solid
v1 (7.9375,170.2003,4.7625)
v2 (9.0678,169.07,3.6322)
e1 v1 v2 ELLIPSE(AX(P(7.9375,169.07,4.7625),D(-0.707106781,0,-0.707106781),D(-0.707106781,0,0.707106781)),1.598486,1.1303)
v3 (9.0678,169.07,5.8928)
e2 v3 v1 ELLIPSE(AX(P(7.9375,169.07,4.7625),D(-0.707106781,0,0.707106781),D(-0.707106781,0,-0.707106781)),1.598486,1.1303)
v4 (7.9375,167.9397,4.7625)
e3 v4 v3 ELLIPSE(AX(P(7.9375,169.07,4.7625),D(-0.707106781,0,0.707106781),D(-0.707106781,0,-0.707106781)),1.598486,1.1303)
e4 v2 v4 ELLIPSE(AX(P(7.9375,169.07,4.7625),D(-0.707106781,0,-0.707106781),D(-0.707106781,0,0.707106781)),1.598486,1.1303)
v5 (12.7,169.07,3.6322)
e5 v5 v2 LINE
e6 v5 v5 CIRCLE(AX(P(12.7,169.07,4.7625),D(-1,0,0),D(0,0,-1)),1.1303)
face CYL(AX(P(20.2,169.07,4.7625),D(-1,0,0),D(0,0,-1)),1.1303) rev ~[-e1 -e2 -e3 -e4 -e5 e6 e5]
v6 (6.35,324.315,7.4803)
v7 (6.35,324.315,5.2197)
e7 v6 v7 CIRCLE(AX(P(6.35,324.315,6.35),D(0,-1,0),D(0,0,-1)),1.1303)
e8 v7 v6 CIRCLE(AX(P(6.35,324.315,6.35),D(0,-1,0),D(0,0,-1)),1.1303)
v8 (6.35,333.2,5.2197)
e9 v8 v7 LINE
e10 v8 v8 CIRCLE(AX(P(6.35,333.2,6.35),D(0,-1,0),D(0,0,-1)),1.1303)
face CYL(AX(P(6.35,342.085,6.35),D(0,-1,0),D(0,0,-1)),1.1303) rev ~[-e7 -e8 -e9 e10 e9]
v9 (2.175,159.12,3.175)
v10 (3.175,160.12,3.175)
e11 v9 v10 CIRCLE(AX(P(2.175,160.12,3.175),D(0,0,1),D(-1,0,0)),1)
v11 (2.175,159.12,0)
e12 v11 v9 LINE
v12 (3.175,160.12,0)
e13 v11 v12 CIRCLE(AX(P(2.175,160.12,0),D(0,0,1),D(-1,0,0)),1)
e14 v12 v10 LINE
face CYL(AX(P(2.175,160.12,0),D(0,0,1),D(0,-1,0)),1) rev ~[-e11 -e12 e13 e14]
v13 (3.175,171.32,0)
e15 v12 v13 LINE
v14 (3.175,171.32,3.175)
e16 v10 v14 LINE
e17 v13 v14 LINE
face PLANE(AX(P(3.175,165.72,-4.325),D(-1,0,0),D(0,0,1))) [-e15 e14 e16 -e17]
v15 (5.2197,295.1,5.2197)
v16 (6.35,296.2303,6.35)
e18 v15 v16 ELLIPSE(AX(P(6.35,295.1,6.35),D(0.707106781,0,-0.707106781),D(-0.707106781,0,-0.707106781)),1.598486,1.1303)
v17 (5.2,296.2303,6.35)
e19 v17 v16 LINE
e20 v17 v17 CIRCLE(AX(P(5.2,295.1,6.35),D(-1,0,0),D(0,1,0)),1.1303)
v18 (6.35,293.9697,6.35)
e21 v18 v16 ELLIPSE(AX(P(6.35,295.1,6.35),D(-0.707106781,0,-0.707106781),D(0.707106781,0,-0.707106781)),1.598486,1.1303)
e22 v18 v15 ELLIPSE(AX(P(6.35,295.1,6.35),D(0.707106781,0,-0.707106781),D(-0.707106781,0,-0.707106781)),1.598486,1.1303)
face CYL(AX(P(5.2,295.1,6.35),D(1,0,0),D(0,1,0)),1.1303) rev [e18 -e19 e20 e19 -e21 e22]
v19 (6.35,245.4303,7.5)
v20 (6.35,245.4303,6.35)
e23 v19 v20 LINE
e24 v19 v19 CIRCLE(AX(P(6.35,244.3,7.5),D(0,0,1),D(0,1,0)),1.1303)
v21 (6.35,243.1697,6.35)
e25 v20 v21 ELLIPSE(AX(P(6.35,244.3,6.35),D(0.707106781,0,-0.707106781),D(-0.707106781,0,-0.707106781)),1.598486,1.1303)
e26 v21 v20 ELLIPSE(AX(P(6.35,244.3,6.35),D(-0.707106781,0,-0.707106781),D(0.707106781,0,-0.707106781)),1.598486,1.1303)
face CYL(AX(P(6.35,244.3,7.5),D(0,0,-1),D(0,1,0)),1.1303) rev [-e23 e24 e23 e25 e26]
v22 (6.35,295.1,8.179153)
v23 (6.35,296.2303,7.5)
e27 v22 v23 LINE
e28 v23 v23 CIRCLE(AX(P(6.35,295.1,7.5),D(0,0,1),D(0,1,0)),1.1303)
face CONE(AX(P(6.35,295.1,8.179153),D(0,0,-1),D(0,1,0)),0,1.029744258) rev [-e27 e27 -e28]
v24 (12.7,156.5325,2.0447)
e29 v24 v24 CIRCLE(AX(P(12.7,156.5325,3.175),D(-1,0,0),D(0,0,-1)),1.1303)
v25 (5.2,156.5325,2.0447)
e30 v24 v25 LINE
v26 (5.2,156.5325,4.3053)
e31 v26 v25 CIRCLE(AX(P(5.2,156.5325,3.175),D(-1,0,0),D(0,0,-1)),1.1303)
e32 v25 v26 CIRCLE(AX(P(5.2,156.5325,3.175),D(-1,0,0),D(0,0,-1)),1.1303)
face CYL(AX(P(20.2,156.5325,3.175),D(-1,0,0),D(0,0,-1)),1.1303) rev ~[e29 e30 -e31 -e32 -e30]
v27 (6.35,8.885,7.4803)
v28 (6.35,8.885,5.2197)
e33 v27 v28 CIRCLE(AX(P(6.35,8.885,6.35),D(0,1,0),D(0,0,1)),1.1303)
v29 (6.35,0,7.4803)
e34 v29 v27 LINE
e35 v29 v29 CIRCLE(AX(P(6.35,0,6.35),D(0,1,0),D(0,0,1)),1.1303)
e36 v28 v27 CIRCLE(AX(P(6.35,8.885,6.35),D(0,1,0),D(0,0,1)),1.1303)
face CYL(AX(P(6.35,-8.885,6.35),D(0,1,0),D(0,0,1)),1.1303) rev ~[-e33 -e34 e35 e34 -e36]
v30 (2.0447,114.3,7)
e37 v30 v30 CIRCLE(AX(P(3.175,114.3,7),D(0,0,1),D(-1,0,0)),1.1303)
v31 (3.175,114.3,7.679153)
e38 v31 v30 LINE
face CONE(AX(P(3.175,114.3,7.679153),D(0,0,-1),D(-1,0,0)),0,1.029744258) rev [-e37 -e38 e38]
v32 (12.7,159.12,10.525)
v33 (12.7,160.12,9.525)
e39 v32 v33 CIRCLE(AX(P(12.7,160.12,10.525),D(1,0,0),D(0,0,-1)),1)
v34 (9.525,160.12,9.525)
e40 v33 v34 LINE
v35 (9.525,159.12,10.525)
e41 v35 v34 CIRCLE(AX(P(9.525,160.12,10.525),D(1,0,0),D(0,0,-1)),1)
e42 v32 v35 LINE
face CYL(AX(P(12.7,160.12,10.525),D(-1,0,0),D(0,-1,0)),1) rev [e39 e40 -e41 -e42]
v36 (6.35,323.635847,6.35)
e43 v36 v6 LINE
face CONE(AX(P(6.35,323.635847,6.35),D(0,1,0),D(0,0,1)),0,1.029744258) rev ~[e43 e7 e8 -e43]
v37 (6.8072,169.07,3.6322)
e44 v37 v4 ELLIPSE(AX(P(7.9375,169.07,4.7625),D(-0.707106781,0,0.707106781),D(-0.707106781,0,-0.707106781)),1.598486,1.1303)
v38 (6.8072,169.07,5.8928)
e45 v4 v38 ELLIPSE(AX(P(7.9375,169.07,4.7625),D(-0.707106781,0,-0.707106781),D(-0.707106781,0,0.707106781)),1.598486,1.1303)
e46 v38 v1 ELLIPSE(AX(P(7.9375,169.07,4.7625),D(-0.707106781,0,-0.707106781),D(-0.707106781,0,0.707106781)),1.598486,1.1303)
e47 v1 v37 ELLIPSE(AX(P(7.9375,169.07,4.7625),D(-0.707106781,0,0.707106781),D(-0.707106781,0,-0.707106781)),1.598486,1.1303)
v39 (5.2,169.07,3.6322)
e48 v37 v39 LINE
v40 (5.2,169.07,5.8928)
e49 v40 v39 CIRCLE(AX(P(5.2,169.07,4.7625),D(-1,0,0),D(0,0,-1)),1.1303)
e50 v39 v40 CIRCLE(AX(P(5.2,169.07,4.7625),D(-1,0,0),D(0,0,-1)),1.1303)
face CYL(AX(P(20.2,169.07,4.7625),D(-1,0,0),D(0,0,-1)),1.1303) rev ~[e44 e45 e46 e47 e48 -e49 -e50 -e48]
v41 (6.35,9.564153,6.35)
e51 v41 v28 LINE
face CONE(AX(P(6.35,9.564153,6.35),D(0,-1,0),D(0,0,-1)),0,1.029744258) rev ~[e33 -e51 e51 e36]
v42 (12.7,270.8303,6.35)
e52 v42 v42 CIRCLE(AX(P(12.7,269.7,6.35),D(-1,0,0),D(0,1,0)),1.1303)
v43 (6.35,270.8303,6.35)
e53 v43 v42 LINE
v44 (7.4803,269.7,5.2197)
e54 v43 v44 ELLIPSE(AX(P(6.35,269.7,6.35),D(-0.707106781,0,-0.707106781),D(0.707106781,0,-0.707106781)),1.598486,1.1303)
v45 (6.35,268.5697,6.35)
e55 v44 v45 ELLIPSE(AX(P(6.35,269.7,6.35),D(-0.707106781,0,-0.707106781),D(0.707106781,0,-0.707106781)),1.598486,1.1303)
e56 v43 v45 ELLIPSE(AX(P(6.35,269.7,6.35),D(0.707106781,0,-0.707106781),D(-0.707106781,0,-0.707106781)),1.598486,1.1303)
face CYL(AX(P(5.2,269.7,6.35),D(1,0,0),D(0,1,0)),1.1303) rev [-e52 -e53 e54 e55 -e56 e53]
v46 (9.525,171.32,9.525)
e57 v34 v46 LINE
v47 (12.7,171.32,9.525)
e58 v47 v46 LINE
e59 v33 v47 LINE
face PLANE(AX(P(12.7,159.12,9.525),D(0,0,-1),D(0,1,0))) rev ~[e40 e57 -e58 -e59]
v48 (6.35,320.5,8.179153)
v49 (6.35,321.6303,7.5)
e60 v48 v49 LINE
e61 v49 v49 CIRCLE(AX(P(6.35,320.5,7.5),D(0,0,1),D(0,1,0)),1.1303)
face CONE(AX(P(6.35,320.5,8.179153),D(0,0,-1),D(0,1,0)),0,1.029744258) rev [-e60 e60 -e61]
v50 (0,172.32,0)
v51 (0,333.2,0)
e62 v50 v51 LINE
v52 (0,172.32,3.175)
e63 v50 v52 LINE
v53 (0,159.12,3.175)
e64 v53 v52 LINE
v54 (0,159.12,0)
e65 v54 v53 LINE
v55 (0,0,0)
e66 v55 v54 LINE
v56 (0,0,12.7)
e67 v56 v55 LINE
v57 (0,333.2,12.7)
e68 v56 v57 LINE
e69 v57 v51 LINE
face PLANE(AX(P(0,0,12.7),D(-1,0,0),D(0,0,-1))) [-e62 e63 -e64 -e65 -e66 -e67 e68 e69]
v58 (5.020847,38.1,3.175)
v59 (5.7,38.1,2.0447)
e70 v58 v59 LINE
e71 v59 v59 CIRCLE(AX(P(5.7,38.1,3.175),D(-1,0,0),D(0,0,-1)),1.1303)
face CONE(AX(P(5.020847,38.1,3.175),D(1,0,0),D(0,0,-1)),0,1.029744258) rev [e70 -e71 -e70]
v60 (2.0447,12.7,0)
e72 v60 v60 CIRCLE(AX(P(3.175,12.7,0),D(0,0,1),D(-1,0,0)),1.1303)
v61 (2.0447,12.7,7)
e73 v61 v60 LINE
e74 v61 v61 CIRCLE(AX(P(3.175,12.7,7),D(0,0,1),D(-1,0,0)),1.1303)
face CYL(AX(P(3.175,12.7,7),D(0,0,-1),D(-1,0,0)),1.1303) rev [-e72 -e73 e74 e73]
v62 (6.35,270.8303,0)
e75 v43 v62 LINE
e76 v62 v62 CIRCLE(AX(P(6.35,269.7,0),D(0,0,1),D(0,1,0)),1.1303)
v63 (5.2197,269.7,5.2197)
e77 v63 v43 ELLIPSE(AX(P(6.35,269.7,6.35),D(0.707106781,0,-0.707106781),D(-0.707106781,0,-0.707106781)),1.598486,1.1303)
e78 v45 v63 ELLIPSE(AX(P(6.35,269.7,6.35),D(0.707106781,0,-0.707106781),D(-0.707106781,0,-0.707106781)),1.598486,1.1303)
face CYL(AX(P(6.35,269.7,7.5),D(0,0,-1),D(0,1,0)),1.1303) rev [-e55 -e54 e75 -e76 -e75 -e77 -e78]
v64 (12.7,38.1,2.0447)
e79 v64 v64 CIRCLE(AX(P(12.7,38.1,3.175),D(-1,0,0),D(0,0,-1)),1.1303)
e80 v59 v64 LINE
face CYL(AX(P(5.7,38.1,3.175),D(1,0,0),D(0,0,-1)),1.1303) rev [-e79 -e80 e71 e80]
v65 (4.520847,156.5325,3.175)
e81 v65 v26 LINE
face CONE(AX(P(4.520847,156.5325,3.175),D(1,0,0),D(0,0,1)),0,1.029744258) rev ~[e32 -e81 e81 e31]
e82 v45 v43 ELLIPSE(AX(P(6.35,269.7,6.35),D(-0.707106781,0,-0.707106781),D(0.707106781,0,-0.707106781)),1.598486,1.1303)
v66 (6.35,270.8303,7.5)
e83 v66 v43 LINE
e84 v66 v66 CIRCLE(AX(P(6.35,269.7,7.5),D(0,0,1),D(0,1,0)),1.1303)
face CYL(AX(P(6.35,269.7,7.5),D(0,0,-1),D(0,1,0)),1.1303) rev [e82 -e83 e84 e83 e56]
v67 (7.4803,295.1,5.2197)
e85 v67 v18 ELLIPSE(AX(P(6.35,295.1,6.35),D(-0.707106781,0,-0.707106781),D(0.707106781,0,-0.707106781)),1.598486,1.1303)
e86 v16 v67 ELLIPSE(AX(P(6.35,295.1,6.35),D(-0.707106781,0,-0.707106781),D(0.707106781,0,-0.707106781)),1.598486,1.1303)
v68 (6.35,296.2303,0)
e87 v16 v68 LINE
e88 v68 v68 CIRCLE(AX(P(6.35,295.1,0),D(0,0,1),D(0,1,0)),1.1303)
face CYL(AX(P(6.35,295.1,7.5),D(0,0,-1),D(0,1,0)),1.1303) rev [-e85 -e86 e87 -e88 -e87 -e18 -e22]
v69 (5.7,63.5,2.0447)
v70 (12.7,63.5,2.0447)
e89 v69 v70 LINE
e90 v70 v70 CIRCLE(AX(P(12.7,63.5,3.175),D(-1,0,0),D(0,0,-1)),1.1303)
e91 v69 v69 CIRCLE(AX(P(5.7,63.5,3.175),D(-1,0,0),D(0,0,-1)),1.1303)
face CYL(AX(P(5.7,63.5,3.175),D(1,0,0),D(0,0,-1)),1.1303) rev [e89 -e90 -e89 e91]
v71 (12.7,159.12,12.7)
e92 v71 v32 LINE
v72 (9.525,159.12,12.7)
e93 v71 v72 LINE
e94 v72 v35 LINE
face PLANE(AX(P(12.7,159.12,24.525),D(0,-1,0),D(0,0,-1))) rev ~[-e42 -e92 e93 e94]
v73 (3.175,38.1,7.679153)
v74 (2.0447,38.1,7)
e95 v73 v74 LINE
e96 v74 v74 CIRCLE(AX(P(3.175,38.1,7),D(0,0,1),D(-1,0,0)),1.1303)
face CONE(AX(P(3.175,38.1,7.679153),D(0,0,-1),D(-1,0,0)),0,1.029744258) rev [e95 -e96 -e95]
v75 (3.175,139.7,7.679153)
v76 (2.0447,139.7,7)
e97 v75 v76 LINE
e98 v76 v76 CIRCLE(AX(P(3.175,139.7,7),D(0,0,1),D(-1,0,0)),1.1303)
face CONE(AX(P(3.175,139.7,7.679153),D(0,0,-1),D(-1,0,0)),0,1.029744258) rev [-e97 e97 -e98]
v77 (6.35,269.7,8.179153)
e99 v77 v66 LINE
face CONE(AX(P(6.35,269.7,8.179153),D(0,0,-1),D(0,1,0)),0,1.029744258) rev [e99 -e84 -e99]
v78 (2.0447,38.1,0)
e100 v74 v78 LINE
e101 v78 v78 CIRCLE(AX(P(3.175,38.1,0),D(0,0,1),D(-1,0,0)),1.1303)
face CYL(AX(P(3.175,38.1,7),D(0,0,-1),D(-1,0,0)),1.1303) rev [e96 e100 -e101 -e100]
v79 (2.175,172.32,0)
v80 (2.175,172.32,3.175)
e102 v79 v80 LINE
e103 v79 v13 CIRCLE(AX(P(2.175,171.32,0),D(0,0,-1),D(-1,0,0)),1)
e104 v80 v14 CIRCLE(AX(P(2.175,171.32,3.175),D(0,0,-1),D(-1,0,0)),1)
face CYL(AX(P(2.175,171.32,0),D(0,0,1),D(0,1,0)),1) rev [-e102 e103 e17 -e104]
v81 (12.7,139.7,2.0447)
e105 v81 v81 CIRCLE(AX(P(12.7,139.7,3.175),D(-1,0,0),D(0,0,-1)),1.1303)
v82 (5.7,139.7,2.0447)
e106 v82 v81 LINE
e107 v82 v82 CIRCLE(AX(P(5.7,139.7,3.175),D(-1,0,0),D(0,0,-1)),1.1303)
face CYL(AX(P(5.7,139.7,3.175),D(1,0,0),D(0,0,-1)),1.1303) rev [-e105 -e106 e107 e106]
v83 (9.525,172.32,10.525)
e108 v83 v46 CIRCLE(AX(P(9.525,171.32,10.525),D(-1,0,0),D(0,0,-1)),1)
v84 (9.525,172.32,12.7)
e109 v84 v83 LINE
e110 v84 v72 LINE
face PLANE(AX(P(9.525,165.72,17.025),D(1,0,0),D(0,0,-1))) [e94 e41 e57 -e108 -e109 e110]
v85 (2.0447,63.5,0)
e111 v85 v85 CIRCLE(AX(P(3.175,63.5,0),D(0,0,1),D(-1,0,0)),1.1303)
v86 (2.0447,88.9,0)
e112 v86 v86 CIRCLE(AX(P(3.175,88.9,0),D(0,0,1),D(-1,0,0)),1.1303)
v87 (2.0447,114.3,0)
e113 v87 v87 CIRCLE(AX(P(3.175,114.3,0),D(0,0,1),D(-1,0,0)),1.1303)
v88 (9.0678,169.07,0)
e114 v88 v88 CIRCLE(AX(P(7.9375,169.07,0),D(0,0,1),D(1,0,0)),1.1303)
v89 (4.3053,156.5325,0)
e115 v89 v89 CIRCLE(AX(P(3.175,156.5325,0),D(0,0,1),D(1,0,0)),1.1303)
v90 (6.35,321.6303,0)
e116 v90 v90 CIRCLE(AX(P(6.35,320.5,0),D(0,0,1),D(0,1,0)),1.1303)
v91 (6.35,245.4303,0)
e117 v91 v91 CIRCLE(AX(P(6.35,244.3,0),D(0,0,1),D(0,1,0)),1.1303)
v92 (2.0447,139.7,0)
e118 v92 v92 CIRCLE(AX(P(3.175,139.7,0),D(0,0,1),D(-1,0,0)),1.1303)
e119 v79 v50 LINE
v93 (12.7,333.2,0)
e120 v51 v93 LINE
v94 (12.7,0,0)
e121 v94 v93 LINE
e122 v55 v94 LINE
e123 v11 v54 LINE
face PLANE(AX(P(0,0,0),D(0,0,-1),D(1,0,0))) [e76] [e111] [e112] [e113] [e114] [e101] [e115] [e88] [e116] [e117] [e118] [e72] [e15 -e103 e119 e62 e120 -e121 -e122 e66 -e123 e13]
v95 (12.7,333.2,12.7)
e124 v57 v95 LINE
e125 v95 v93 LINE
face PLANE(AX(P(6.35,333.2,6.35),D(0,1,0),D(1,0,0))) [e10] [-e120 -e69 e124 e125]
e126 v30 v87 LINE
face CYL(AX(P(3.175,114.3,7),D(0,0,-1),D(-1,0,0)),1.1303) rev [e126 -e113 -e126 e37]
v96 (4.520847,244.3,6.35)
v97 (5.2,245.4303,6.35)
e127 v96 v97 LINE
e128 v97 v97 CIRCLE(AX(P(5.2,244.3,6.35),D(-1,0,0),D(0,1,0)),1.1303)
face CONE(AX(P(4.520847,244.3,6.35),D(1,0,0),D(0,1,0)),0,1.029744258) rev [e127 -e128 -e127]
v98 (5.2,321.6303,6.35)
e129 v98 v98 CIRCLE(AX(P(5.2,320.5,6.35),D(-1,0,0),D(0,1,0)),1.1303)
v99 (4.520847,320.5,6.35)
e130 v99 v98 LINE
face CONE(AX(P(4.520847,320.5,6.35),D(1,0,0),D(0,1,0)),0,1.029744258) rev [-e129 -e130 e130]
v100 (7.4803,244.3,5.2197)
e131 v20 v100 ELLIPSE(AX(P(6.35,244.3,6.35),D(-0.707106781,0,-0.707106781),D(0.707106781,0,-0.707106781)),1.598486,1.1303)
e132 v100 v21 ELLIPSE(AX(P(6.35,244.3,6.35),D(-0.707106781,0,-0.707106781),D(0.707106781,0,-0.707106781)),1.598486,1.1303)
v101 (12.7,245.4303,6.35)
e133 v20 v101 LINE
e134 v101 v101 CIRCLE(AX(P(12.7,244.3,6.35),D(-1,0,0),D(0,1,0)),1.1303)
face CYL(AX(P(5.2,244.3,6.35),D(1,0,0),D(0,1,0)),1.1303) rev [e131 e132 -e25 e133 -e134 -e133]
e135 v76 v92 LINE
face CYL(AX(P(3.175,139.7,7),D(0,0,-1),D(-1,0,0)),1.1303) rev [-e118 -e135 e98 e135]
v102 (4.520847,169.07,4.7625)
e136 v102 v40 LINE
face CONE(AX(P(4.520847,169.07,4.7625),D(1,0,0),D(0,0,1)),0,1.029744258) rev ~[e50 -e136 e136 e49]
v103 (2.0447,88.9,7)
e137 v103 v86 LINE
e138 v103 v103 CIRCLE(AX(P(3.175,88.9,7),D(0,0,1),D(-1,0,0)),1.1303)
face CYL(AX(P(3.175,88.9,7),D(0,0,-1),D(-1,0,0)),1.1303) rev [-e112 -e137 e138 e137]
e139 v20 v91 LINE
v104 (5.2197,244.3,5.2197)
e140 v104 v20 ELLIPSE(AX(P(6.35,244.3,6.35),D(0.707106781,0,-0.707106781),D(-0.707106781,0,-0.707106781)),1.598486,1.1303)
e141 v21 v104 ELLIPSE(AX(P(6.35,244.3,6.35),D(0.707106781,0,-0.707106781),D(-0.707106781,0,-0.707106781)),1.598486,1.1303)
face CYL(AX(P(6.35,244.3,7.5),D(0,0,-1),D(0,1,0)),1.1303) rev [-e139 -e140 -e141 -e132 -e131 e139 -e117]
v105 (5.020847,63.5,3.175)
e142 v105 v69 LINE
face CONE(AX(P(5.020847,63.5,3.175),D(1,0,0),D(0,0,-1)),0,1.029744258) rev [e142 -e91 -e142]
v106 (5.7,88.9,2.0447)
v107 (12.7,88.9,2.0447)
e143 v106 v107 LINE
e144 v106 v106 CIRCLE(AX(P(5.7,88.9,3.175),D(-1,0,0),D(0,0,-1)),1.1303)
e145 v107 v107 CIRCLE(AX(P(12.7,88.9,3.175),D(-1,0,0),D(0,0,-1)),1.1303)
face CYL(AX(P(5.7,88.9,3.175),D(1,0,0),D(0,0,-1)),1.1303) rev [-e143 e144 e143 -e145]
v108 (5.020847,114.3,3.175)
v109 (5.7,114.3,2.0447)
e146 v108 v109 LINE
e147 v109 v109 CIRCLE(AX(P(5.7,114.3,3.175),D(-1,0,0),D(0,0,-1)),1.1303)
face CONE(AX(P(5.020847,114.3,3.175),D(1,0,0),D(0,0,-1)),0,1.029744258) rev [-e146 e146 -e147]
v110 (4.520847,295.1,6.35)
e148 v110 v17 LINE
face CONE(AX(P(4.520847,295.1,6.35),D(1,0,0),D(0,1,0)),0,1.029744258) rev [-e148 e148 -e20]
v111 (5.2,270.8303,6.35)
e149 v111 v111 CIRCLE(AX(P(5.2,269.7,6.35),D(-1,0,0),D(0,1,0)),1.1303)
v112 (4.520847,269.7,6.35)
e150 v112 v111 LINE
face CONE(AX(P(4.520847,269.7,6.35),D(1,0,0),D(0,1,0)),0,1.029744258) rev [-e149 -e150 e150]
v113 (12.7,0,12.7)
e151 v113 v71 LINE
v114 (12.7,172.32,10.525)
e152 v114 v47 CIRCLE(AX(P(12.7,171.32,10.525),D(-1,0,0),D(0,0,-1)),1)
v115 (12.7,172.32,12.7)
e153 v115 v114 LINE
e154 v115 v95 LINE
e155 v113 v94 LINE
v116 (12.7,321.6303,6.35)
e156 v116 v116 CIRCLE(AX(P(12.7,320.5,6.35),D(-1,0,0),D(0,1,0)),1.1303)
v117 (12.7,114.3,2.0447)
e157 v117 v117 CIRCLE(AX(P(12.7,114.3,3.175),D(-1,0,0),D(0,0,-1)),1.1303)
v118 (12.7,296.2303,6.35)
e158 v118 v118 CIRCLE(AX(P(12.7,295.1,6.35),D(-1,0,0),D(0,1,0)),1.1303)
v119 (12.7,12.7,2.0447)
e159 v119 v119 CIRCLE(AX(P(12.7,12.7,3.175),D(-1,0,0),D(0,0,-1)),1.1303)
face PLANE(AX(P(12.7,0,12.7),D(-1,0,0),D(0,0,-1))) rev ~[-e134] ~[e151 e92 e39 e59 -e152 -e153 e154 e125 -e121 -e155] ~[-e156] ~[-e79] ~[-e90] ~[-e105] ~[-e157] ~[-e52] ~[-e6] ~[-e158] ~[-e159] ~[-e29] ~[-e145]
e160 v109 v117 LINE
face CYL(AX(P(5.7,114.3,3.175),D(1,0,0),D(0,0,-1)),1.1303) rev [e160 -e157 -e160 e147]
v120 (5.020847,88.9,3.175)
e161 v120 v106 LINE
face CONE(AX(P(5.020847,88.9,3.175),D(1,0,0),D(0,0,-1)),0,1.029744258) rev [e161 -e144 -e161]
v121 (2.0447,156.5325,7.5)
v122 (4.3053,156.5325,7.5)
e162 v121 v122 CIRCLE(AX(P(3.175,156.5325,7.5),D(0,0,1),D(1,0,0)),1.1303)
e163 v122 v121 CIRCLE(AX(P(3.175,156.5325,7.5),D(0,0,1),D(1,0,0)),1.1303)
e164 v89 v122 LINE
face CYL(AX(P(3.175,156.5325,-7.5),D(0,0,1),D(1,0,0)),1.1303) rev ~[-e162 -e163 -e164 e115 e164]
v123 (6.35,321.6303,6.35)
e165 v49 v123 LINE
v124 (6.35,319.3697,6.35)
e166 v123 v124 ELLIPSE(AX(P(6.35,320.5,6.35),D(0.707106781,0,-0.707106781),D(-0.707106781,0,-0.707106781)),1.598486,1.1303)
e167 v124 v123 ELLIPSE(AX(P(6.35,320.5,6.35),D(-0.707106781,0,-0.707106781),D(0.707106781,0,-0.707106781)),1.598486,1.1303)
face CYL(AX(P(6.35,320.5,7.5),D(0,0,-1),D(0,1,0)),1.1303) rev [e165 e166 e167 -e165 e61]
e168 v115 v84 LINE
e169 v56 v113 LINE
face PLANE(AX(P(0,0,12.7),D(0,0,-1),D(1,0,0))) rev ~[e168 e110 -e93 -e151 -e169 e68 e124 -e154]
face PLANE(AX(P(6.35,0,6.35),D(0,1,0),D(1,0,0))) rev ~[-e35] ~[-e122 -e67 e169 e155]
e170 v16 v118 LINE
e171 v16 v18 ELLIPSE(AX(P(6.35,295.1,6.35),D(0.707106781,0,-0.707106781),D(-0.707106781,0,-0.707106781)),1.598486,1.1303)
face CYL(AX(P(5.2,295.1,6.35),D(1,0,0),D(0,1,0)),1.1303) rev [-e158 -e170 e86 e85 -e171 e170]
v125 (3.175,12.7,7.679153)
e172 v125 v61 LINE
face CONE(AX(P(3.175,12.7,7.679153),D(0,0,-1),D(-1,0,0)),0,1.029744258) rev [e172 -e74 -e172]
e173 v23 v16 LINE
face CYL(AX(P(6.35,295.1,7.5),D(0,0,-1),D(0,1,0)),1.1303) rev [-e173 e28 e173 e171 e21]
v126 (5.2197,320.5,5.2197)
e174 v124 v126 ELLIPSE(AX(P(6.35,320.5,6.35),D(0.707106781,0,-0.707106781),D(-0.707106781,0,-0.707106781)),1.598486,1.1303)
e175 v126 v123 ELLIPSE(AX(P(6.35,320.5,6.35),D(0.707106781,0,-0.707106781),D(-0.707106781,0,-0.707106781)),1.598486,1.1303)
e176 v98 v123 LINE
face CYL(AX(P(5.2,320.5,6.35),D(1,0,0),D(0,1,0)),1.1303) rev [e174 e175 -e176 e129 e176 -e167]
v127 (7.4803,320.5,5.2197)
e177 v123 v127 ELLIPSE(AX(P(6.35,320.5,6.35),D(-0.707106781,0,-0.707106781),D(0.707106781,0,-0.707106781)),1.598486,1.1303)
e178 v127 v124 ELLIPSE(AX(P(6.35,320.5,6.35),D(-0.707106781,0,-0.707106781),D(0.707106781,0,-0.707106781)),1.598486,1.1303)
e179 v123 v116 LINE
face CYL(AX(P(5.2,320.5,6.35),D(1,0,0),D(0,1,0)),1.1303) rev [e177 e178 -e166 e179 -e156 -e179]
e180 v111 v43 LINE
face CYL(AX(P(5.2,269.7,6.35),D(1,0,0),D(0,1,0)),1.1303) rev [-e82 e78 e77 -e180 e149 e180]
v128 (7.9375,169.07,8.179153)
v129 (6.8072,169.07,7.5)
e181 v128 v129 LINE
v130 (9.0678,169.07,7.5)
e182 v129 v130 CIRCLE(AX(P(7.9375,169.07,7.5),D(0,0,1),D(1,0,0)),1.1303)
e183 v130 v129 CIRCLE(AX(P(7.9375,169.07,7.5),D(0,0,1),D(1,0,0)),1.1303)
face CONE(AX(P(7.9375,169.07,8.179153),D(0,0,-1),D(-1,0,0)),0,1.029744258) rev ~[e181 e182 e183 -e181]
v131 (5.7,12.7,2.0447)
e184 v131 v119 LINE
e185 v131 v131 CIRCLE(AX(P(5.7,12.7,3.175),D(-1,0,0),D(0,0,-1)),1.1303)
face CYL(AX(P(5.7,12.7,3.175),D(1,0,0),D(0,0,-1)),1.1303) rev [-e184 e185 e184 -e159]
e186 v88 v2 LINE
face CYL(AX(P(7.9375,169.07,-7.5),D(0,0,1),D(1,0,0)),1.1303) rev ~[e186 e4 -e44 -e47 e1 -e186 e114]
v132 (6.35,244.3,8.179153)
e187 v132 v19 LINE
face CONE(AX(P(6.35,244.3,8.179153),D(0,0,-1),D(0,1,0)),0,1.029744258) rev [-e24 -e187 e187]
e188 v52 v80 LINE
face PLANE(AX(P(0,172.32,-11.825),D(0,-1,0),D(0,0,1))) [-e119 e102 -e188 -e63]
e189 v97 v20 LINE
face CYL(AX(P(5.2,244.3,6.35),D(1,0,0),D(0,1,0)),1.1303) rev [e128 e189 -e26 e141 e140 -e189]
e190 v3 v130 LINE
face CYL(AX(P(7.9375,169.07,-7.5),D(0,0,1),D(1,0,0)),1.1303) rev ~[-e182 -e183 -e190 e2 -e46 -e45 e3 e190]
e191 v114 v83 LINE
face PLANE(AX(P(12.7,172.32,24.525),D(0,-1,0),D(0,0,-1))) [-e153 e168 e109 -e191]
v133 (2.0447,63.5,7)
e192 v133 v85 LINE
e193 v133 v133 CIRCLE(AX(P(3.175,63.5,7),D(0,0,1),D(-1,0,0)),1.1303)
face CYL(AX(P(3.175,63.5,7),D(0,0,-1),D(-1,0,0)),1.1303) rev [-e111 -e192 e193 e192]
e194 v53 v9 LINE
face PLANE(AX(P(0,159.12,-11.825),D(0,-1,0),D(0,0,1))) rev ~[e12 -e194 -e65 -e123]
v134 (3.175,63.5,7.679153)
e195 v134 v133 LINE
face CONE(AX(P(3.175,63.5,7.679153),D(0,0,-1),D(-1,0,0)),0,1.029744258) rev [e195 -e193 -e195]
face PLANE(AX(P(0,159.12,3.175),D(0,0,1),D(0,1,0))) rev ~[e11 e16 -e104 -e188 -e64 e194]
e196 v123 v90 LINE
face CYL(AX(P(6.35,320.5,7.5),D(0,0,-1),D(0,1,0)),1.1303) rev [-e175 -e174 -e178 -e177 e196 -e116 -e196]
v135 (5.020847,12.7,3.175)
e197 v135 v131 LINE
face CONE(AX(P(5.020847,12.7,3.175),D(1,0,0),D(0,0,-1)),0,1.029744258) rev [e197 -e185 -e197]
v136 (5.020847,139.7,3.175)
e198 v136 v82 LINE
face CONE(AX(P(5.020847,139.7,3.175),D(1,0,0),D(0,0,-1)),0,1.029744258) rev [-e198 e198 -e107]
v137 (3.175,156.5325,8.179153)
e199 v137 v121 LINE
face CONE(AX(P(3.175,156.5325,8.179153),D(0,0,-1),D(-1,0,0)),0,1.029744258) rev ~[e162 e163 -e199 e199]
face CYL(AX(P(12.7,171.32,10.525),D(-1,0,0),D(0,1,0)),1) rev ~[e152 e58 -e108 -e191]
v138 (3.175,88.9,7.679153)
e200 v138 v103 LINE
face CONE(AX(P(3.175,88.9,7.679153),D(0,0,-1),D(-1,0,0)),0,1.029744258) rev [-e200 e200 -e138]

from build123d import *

# Parameters (mm, degrees)
SKETCH1_W                           = 12.7
SKETCH1_H                           = 12.7
BOSS_EXTRUDE1_DEPTH                 = 333.2
F_4_40_TAPPED_HOLE1_D               = 2.2606
F_4_40_TAPPED_HOLE1_DEPTH           = 8.885
F_4_40_TAPPED_HOLE1_TIP             = 0.679152758
F_4_40_TAPPED_HOLE1_ON_FACE_2_D     = 2.2606
F_4_40_TAPPED_HOLE1_ON_FACE_2_DEPTH = 8.885
F_4_40_TAPPED_HOLE1_ON_FACE_2_TIP   = 0.679152758
LPATTERN1_COUNT                     = 7
LPATTERN1_PITCH                     = 25.4
CIRPATTERN2_COUNT                   = 2
CIRPATTERN2_ANGLE                   = 90
SKETCH4_W                           = 15
SKETCH4_H                           = 13.2
CUT_EXTRUDE1_DEPTH                  = 3.175
CIRPATTERN3_COUNT                   = 3
CIRPATTERN3_ANGLE                   = 180
LPATTERN2_COUNT                     = 6
LPATTERN2_PITCH                     = 25.4
CIRPATTERN4_COUNT                   = 4
FILLET1_R                           = 1
F_4_40_TAPPED_HOLE5_D               = 2.2606
F_4_40_TAPPED_HOLE5_DEPTH           = 7.5
F_4_40_TAPPED_HOLE5_TIP             = 0.679152758
F_4_40_TAPPED_HOLE5_ON_FACE_2_D     = 2.2606
F_4_40_TAPPED_HOLE5_ON_FACE_2_DEPTH = 7.5
F_4_40_TAPPED_HOLE5_ON_FACE_2_TIP   = 0.679152758
F_4_40_TAPPED_HOLE6_D               = 2.2606
F_4_40_TAPPED_HOLE6_DEPTH           = 7.5
F_4_40_TAPPED_HOLE6_TIP             = 0.679152758
F_4_40_TAPPED_HOLE6_ON_FACE_2_D     = 2.2606
F_4_40_TAPPED_HOLE6_ON_FACE_2_DEPTH = 7.5
F_4_40_TAPPED_HOLE6_ON_FACE_2_TIP   = 0.679152758


with BuildPart() as part:
    # Sketch1 → Boss-Extrude1 (new body)
    with BuildSketch(Plane(origin=(0, 0, 0), x_dir=(1, 0, 0), z_dir=(0, 1, 0))):
        with Locations((6.35, -6.35)):
            Rectangle(SKETCH1_W, SKETCH1_H)
    extrude(amount=BOSS_EXTRUDE1_DEPTH)

    # #4-40 Tapped Hole1
    with Locations(Plane(origin=(6.35, 333.2, 6.35), x_dir=(0, 0, 1), z_dir=(0, 1, 0))):
        with Locations((0, 0)):
            Hole(F_4_40_TAPPED_HOLE1_D / 2, depth=F_4_40_TAPPED_HOLE1_DEPTH)
            with Locations((0, 0, -(F_4_40_TAPPED_HOLE1_DEPTH + F_4_40_TAPPED_HOLE1_TIP / 2))):  # 118° drill point
                Cone(0, F_4_40_TAPPED_HOLE1_D / 2, F_4_40_TAPPED_HOLE1_TIP, mode=Mode.SUBTRACT)

    # #4-40 Tapped Hole1 on face 2
    with Locations(Plane(origin=(6.35, 0, 6.35), x_dir=(0, 0, -1), z_dir=(0, -1, 0))):
        with Locations((0, 0)):
            Hole(F_4_40_TAPPED_HOLE1_ON_FACE_2_D / 2, depth=F_4_40_TAPPED_HOLE1_ON_FACE_2_DEPTH)
            with Locations((0, 0, -(F_4_40_TAPPED_HOLE1_ON_FACE_2_DEPTH + F_4_40_TAPPED_HOLE1_ON_FACE_2_TIP / 2))):  # 118° drill point
                Cone(0, F_4_40_TAPPED_HOLE1_ON_FACE_2_D / 2, F_4_40_TAPPED_HOLE1_ON_FACE_2_TIP, mode=Mode.SUBTRACT)

    # Sketch3 → #4-40 Tapped Hole2 (revolve, cut)
    with BuildSketch(Plane(origin=(6.35, 320.5, 0), x_dir=(0, 1, 0), z_dir=(1, 0, 0))):
        Polygon((0, 0), (0, 8.179152758), (1.1303, 7.5), (1.1303, 0), align=None)
    f_4_40_tapped_hole2 = revolve(axis=Axis((6.35, 320.5, -6.35), (0, 0, 1)), mode=Mode.SUBTRACT)

    # LPattern1: #4-40 Tapped Hole2 ×7, 3 skipped
    with Locations(*[(0, -i * LPATTERN1_PITCH, 0) for i in range(1, LPATTERN1_COUNT) if i not in (4, 5, 6)]):
        add(f_4_40_tapped_hole2, mode=Mode.SUBTRACT)

    # CirPattern2: #4-40 Tapped Hole2 ×2 about axis
    cirpattern2_axis = Axis((6.35, 0, 6.35), (0, -1, 0))
    for i in range(1, CIRPATTERN2_COUNT):
        add(f_4_40_tapped_hole2.rotate(cirpattern2_axis, i * CIRPATTERN2_ANGLE / (CIRPATTERN2_COUNT - 1)), mode=Mode.SUBTRACT)

    # CirPattern2 copy 1 sketch → CirPattern2 copy 1 (revolve, cut)
    with BuildSketch(Plane(origin=(12.7, 295.1, 6.35), x_dir=(0, 1, 0), z_dir=(0, 0, 1))):
        Polygon((0, 0), (0, 8.179152758), (1.1303, 7.5), (1.1303, 0), align=None)
    revolve(axis=Axis((19.05, 295.1, 6.35), (-1, 0, 0)), mode=Mode.SUBTRACT)

    # CirPattern2 copy 2 sketch → CirPattern2 copy 2 (revolve, cut)
    with BuildSketch(Plane(origin=(12.7, 269.7, 6.35), x_dir=(0, 1, 0), z_dir=(0, 0, 1))):
        Polygon((0, 0), (0, 8.179152758), (1.1303, 7.5), (1.1303, 0), align=None)
    revolve(axis=Axis((19.05, 269.7, 6.35), (-1, 0, 0)), mode=Mode.SUBTRACT)

    # CirPattern2 copy 3 sketch → CirPattern2 copy 3 (revolve, cut)
    with BuildSketch(Plane(origin=(12.7, 244.3, 6.35), x_dir=(0, 1, 0), z_dir=(0, 0, 1))):
        Polygon((0, 0), (0, 8.179152758), (1.1303, 7.5), (1.1303, 0), align=None)
    revolve(axis=Axis((19.05, 244.3, 6.35), (-1, 0, 0)), mode=Mode.SUBTRACT)

    # Sketch4 → Cut-Extrude1 (cut)
    with BuildSketch(Plane(origin=(12.7, 0, 0), x_dir=(0, 0, -1), z_dir=(1, 0, 0))):
        with Locations((-17.025, 165.72)):
            Rectangle(SKETCH4_W, SKETCH4_H)
    cut_extrude1 = extrude(amount=-CUT_EXTRUDE1_DEPTH, mode=Mode.SUBTRACT)

    # CirPattern3: Cut-Extrude1 ×3 about axis, 1 skipped
    cirpattern3_axis = Axis((6.35, 333.2, 6.35), (0, 1, 0))
    add([cut_extrude1.rotate(cirpattern3_axis, i * CIRPATTERN3_ANGLE / (CIRPATTERN3_COUNT - 1)) for i in range(1, CIRPATTERN3_COUNT) if i not in (1,)], mode=Mode.SUBTRACT)

    # Sketch5 → #4-40 Tapped Hole3 (revolve, cut)
    with BuildSketch(Plane(origin=(12.7, 12.7, 3.175), x_dir=(0, 0, -1), z_dir=(0, 1, 0))):
        Polygon((0, 0), (0, 7.679152758), (1.1303, 7), (1.1303, 0), align=None)
    f_4_40_tapped_hole3 = revolve(axis=Axis((19.05, 12.7, 3.175), (-1, 0, 0)), mode=Mode.SUBTRACT)

    # LPattern2: #4-40 Tapped Hole3 ×6
    with Locations(*[(0, i * LPATTERN2_PITCH, 0) for i in range(1, LPATTERN2_COUNT)]):
        add(f_4_40_tapped_hole3, mode=Mode.SUBTRACT)

    # CirPattern4: #4-40 Tapped Hole3 ×4 about axis, 2 skipped
    cirpattern4_axis = Axis((6.35, 333.2, 6.35), (0, 1, 0))
    add([f_4_40_tapped_hole3.rotate(cirpattern4_axis, i * 360 / CIRPATTERN4_COUNT) for i in range(1, CIRPATTERN4_COUNT) if i not in (2, 3)], mode=Mode.SUBTRACT)

    # CirPattern4 copy 1 sketch → CirPattern4 copy 1 (revolve, cut)
    with BuildSketch(Plane(origin=(3.175, 38.1, 0), x_dir=(-1, 0, 0), z_dir=(0, 1, 0))):
        Polygon((0, 0), (0, 7.679152758), (1.1303, 7), (1.1303, 0), align=None)
    revolve(axis=Axis((3.175, 38.1, -6.35), (0, 0, 1)), mode=Mode.SUBTRACT)

    # CirPattern4 copy 2 sketch → CirPattern4 copy 2 (revolve, cut)
    with BuildSketch(Plane(origin=(3.175, 63.5, 0), x_dir=(-1, 0, 0), z_dir=(0, 1, 0))):
        Polygon((0, 0), (0, 7.679152758), (1.1303, 7), (1.1303, 0), align=None)
    revolve(axis=Axis((3.175, 63.5, -6.35), (0, 0, 1)), mode=Mode.SUBTRACT)

    # CirPattern4 copy 3 sketch → CirPattern4 copy 3 (revolve, cut)
    with BuildSketch(Plane(origin=(3.175, 88.9, 0), x_dir=(-1, 0, 0), z_dir=(0, 1, 0))):
        Polygon((0, 0), (0, 7.679152758), (1.1303, 7), (1.1303, 0), align=None)
    revolve(axis=Axis((3.175, 88.9, -6.35), (0, 0, 1)), mode=Mode.SUBTRACT)

    # CirPattern4 copy 4 sketch → CirPattern4 copy 4 (revolve, cut)
    with BuildSketch(Plane(origin=(3.175, 114.3, 0), x_dir=(-1, 0, 0), z_dir=(0, 1, 0))):
        Polygon((0, 0), (0, 7.679152758), (1.1303, 7), (1.1303, 0), align=None)
    revolve(axis=Axis((3.175, 114.3, -6.35), (0, 0, 1)), mode=Mode.SUBTRACT)

    # CirPattern4 copy 5 sketch → CirPattern4 copy 5 (revolve, cut)
    with BuildSketch(Plane(origin=(3.175, 139.7, 0), x_dir=(-1, 0, 0), z_dir=(0, 1, 0))):
        Polygon((0, 0), (0, 7.679152758), (1.1303, 7), (1.1303, 0), align=None)
    revolve(axis=Axis((3.175, 139.7, -6.35), (0, 0, 1)), mode=Mode.SUBTRACT)

    # Fillet1
    fillet1_edges = [part.edges().sort_by_distance(p)[0] for p in [
        (11.1125, 159.12, 9.525),
        (11.1125, 172.32, 9.525),
        (3.175, 172.32, 1.5875),
        (3.175, 159.12, 1.5875),
    ]]
    fillet(fillet1_edges, radius=FILLET1_R)

    # #4-40 Tapped Hole5
    with Locations(Plane(origin=(12.7, 169.07, 4.7625), x_dir=(0, 0, 1), z_dir=(1, 0, 0))):
        with Locations((0, 0)):
            Hole(F_4_40_TAPPED_HOLE5_D / 2, depth=F_4_40_TAPPED_HOLE5_DEPTH)
            with Locations((0, 0, -(F_4_40_TAPPED_HOLE5_DEPTH + F_4_40_TAPPED_HOLE5_TIP / 2))):  # 118° drill point
                Cone(0, F_4_40_TAPPED_HOLE5_D / 2, F_4_40_TAPPED_HOLE5_TIP, mode=Mode.SUBTRACT)

    # #4-40 Tapped Hole5 on face 2
    with Locations(Plane(origin=(7.9375, 169.07, 0), x_dir=(-1, 0, 0), z_dir=(0, 0, -1))):
        with Locations((0, 0)):
            Hole(F_4_40_TAPPED_HOLE5_ON_FACE_2_D / 2, depth=F_4_40_TAPPED_HOLE5_ON_FACE_2_DEPTH)
            with Locations((0, 0, -(F_4_40_TAPPED_HOLE5_ON_FACE_2_DEPTH + F_4_40_TAPPED_HOLE5_ON_FACE_2_TIP / 2))):  # 118° drill point
                Cone(0, F_4_40_TAPPED_HOLE5_ON_FACE_2_D / 2, F_4_40_TAPPED_HOLE5_ON_FACE_2_TIP, mode=Mode.SUBTRACT)

    # #4-40 Tapped Hole6
    with Locations(Plane(origin=(12.7, 156.5325, 3.175), x_dir=(0, 0, 1), z_dir=(1, 0, 0))):
        with Locations((0, 0)):
            Hole(F_4_40_TAPPED_HOLE6_D / 2, depth=F_4_40_TAPPED_HOLE6_DEPTH)
            with Locations((0, 0, -(F_4_40_TAPPED_HOLE6_DEPTH + F_4_40_TAPPED_HOLE6_TIP / 2))):  # 118° drill point
                Cone(0, F_4_40_TAPPED_HOLE6_D / 2, F_4_40_TAPPED_HOLE6_TIP, mode=Mode.SUBTRACT)

    # #4-40 Tapped Hole6 on face 2
    with Locations(Plane(origin=(3.175, 156.5325, 0), x_dir=(-1, 0, 0), z_dir=(0, 0, -1))):
        with Locations((0, 0)):
            Hole(F_4_40_TAPPED_HOLE6_ON_FACE_2_D / 2, depth=F_4_40_TAPPED_HOLE6_ON_FACE_2_DEPTH)
            with Locations((0, 0, -(F_4_40_TAPPED_HOLE6_ON_FACE_2_DEPTH + F_4_40_TAPPED_HOLE6_ON_FACE_2_TIP / 2))):  # 118° drill point
                Cone(0, F_4_40_TAPPED_HOLE6_ON_FACE_2_D / 2, F_4_40_TAPPED_HOLE6_ON_FACE_2_TIP, mode=Mode.SUBTRACT)


solid = part.part
